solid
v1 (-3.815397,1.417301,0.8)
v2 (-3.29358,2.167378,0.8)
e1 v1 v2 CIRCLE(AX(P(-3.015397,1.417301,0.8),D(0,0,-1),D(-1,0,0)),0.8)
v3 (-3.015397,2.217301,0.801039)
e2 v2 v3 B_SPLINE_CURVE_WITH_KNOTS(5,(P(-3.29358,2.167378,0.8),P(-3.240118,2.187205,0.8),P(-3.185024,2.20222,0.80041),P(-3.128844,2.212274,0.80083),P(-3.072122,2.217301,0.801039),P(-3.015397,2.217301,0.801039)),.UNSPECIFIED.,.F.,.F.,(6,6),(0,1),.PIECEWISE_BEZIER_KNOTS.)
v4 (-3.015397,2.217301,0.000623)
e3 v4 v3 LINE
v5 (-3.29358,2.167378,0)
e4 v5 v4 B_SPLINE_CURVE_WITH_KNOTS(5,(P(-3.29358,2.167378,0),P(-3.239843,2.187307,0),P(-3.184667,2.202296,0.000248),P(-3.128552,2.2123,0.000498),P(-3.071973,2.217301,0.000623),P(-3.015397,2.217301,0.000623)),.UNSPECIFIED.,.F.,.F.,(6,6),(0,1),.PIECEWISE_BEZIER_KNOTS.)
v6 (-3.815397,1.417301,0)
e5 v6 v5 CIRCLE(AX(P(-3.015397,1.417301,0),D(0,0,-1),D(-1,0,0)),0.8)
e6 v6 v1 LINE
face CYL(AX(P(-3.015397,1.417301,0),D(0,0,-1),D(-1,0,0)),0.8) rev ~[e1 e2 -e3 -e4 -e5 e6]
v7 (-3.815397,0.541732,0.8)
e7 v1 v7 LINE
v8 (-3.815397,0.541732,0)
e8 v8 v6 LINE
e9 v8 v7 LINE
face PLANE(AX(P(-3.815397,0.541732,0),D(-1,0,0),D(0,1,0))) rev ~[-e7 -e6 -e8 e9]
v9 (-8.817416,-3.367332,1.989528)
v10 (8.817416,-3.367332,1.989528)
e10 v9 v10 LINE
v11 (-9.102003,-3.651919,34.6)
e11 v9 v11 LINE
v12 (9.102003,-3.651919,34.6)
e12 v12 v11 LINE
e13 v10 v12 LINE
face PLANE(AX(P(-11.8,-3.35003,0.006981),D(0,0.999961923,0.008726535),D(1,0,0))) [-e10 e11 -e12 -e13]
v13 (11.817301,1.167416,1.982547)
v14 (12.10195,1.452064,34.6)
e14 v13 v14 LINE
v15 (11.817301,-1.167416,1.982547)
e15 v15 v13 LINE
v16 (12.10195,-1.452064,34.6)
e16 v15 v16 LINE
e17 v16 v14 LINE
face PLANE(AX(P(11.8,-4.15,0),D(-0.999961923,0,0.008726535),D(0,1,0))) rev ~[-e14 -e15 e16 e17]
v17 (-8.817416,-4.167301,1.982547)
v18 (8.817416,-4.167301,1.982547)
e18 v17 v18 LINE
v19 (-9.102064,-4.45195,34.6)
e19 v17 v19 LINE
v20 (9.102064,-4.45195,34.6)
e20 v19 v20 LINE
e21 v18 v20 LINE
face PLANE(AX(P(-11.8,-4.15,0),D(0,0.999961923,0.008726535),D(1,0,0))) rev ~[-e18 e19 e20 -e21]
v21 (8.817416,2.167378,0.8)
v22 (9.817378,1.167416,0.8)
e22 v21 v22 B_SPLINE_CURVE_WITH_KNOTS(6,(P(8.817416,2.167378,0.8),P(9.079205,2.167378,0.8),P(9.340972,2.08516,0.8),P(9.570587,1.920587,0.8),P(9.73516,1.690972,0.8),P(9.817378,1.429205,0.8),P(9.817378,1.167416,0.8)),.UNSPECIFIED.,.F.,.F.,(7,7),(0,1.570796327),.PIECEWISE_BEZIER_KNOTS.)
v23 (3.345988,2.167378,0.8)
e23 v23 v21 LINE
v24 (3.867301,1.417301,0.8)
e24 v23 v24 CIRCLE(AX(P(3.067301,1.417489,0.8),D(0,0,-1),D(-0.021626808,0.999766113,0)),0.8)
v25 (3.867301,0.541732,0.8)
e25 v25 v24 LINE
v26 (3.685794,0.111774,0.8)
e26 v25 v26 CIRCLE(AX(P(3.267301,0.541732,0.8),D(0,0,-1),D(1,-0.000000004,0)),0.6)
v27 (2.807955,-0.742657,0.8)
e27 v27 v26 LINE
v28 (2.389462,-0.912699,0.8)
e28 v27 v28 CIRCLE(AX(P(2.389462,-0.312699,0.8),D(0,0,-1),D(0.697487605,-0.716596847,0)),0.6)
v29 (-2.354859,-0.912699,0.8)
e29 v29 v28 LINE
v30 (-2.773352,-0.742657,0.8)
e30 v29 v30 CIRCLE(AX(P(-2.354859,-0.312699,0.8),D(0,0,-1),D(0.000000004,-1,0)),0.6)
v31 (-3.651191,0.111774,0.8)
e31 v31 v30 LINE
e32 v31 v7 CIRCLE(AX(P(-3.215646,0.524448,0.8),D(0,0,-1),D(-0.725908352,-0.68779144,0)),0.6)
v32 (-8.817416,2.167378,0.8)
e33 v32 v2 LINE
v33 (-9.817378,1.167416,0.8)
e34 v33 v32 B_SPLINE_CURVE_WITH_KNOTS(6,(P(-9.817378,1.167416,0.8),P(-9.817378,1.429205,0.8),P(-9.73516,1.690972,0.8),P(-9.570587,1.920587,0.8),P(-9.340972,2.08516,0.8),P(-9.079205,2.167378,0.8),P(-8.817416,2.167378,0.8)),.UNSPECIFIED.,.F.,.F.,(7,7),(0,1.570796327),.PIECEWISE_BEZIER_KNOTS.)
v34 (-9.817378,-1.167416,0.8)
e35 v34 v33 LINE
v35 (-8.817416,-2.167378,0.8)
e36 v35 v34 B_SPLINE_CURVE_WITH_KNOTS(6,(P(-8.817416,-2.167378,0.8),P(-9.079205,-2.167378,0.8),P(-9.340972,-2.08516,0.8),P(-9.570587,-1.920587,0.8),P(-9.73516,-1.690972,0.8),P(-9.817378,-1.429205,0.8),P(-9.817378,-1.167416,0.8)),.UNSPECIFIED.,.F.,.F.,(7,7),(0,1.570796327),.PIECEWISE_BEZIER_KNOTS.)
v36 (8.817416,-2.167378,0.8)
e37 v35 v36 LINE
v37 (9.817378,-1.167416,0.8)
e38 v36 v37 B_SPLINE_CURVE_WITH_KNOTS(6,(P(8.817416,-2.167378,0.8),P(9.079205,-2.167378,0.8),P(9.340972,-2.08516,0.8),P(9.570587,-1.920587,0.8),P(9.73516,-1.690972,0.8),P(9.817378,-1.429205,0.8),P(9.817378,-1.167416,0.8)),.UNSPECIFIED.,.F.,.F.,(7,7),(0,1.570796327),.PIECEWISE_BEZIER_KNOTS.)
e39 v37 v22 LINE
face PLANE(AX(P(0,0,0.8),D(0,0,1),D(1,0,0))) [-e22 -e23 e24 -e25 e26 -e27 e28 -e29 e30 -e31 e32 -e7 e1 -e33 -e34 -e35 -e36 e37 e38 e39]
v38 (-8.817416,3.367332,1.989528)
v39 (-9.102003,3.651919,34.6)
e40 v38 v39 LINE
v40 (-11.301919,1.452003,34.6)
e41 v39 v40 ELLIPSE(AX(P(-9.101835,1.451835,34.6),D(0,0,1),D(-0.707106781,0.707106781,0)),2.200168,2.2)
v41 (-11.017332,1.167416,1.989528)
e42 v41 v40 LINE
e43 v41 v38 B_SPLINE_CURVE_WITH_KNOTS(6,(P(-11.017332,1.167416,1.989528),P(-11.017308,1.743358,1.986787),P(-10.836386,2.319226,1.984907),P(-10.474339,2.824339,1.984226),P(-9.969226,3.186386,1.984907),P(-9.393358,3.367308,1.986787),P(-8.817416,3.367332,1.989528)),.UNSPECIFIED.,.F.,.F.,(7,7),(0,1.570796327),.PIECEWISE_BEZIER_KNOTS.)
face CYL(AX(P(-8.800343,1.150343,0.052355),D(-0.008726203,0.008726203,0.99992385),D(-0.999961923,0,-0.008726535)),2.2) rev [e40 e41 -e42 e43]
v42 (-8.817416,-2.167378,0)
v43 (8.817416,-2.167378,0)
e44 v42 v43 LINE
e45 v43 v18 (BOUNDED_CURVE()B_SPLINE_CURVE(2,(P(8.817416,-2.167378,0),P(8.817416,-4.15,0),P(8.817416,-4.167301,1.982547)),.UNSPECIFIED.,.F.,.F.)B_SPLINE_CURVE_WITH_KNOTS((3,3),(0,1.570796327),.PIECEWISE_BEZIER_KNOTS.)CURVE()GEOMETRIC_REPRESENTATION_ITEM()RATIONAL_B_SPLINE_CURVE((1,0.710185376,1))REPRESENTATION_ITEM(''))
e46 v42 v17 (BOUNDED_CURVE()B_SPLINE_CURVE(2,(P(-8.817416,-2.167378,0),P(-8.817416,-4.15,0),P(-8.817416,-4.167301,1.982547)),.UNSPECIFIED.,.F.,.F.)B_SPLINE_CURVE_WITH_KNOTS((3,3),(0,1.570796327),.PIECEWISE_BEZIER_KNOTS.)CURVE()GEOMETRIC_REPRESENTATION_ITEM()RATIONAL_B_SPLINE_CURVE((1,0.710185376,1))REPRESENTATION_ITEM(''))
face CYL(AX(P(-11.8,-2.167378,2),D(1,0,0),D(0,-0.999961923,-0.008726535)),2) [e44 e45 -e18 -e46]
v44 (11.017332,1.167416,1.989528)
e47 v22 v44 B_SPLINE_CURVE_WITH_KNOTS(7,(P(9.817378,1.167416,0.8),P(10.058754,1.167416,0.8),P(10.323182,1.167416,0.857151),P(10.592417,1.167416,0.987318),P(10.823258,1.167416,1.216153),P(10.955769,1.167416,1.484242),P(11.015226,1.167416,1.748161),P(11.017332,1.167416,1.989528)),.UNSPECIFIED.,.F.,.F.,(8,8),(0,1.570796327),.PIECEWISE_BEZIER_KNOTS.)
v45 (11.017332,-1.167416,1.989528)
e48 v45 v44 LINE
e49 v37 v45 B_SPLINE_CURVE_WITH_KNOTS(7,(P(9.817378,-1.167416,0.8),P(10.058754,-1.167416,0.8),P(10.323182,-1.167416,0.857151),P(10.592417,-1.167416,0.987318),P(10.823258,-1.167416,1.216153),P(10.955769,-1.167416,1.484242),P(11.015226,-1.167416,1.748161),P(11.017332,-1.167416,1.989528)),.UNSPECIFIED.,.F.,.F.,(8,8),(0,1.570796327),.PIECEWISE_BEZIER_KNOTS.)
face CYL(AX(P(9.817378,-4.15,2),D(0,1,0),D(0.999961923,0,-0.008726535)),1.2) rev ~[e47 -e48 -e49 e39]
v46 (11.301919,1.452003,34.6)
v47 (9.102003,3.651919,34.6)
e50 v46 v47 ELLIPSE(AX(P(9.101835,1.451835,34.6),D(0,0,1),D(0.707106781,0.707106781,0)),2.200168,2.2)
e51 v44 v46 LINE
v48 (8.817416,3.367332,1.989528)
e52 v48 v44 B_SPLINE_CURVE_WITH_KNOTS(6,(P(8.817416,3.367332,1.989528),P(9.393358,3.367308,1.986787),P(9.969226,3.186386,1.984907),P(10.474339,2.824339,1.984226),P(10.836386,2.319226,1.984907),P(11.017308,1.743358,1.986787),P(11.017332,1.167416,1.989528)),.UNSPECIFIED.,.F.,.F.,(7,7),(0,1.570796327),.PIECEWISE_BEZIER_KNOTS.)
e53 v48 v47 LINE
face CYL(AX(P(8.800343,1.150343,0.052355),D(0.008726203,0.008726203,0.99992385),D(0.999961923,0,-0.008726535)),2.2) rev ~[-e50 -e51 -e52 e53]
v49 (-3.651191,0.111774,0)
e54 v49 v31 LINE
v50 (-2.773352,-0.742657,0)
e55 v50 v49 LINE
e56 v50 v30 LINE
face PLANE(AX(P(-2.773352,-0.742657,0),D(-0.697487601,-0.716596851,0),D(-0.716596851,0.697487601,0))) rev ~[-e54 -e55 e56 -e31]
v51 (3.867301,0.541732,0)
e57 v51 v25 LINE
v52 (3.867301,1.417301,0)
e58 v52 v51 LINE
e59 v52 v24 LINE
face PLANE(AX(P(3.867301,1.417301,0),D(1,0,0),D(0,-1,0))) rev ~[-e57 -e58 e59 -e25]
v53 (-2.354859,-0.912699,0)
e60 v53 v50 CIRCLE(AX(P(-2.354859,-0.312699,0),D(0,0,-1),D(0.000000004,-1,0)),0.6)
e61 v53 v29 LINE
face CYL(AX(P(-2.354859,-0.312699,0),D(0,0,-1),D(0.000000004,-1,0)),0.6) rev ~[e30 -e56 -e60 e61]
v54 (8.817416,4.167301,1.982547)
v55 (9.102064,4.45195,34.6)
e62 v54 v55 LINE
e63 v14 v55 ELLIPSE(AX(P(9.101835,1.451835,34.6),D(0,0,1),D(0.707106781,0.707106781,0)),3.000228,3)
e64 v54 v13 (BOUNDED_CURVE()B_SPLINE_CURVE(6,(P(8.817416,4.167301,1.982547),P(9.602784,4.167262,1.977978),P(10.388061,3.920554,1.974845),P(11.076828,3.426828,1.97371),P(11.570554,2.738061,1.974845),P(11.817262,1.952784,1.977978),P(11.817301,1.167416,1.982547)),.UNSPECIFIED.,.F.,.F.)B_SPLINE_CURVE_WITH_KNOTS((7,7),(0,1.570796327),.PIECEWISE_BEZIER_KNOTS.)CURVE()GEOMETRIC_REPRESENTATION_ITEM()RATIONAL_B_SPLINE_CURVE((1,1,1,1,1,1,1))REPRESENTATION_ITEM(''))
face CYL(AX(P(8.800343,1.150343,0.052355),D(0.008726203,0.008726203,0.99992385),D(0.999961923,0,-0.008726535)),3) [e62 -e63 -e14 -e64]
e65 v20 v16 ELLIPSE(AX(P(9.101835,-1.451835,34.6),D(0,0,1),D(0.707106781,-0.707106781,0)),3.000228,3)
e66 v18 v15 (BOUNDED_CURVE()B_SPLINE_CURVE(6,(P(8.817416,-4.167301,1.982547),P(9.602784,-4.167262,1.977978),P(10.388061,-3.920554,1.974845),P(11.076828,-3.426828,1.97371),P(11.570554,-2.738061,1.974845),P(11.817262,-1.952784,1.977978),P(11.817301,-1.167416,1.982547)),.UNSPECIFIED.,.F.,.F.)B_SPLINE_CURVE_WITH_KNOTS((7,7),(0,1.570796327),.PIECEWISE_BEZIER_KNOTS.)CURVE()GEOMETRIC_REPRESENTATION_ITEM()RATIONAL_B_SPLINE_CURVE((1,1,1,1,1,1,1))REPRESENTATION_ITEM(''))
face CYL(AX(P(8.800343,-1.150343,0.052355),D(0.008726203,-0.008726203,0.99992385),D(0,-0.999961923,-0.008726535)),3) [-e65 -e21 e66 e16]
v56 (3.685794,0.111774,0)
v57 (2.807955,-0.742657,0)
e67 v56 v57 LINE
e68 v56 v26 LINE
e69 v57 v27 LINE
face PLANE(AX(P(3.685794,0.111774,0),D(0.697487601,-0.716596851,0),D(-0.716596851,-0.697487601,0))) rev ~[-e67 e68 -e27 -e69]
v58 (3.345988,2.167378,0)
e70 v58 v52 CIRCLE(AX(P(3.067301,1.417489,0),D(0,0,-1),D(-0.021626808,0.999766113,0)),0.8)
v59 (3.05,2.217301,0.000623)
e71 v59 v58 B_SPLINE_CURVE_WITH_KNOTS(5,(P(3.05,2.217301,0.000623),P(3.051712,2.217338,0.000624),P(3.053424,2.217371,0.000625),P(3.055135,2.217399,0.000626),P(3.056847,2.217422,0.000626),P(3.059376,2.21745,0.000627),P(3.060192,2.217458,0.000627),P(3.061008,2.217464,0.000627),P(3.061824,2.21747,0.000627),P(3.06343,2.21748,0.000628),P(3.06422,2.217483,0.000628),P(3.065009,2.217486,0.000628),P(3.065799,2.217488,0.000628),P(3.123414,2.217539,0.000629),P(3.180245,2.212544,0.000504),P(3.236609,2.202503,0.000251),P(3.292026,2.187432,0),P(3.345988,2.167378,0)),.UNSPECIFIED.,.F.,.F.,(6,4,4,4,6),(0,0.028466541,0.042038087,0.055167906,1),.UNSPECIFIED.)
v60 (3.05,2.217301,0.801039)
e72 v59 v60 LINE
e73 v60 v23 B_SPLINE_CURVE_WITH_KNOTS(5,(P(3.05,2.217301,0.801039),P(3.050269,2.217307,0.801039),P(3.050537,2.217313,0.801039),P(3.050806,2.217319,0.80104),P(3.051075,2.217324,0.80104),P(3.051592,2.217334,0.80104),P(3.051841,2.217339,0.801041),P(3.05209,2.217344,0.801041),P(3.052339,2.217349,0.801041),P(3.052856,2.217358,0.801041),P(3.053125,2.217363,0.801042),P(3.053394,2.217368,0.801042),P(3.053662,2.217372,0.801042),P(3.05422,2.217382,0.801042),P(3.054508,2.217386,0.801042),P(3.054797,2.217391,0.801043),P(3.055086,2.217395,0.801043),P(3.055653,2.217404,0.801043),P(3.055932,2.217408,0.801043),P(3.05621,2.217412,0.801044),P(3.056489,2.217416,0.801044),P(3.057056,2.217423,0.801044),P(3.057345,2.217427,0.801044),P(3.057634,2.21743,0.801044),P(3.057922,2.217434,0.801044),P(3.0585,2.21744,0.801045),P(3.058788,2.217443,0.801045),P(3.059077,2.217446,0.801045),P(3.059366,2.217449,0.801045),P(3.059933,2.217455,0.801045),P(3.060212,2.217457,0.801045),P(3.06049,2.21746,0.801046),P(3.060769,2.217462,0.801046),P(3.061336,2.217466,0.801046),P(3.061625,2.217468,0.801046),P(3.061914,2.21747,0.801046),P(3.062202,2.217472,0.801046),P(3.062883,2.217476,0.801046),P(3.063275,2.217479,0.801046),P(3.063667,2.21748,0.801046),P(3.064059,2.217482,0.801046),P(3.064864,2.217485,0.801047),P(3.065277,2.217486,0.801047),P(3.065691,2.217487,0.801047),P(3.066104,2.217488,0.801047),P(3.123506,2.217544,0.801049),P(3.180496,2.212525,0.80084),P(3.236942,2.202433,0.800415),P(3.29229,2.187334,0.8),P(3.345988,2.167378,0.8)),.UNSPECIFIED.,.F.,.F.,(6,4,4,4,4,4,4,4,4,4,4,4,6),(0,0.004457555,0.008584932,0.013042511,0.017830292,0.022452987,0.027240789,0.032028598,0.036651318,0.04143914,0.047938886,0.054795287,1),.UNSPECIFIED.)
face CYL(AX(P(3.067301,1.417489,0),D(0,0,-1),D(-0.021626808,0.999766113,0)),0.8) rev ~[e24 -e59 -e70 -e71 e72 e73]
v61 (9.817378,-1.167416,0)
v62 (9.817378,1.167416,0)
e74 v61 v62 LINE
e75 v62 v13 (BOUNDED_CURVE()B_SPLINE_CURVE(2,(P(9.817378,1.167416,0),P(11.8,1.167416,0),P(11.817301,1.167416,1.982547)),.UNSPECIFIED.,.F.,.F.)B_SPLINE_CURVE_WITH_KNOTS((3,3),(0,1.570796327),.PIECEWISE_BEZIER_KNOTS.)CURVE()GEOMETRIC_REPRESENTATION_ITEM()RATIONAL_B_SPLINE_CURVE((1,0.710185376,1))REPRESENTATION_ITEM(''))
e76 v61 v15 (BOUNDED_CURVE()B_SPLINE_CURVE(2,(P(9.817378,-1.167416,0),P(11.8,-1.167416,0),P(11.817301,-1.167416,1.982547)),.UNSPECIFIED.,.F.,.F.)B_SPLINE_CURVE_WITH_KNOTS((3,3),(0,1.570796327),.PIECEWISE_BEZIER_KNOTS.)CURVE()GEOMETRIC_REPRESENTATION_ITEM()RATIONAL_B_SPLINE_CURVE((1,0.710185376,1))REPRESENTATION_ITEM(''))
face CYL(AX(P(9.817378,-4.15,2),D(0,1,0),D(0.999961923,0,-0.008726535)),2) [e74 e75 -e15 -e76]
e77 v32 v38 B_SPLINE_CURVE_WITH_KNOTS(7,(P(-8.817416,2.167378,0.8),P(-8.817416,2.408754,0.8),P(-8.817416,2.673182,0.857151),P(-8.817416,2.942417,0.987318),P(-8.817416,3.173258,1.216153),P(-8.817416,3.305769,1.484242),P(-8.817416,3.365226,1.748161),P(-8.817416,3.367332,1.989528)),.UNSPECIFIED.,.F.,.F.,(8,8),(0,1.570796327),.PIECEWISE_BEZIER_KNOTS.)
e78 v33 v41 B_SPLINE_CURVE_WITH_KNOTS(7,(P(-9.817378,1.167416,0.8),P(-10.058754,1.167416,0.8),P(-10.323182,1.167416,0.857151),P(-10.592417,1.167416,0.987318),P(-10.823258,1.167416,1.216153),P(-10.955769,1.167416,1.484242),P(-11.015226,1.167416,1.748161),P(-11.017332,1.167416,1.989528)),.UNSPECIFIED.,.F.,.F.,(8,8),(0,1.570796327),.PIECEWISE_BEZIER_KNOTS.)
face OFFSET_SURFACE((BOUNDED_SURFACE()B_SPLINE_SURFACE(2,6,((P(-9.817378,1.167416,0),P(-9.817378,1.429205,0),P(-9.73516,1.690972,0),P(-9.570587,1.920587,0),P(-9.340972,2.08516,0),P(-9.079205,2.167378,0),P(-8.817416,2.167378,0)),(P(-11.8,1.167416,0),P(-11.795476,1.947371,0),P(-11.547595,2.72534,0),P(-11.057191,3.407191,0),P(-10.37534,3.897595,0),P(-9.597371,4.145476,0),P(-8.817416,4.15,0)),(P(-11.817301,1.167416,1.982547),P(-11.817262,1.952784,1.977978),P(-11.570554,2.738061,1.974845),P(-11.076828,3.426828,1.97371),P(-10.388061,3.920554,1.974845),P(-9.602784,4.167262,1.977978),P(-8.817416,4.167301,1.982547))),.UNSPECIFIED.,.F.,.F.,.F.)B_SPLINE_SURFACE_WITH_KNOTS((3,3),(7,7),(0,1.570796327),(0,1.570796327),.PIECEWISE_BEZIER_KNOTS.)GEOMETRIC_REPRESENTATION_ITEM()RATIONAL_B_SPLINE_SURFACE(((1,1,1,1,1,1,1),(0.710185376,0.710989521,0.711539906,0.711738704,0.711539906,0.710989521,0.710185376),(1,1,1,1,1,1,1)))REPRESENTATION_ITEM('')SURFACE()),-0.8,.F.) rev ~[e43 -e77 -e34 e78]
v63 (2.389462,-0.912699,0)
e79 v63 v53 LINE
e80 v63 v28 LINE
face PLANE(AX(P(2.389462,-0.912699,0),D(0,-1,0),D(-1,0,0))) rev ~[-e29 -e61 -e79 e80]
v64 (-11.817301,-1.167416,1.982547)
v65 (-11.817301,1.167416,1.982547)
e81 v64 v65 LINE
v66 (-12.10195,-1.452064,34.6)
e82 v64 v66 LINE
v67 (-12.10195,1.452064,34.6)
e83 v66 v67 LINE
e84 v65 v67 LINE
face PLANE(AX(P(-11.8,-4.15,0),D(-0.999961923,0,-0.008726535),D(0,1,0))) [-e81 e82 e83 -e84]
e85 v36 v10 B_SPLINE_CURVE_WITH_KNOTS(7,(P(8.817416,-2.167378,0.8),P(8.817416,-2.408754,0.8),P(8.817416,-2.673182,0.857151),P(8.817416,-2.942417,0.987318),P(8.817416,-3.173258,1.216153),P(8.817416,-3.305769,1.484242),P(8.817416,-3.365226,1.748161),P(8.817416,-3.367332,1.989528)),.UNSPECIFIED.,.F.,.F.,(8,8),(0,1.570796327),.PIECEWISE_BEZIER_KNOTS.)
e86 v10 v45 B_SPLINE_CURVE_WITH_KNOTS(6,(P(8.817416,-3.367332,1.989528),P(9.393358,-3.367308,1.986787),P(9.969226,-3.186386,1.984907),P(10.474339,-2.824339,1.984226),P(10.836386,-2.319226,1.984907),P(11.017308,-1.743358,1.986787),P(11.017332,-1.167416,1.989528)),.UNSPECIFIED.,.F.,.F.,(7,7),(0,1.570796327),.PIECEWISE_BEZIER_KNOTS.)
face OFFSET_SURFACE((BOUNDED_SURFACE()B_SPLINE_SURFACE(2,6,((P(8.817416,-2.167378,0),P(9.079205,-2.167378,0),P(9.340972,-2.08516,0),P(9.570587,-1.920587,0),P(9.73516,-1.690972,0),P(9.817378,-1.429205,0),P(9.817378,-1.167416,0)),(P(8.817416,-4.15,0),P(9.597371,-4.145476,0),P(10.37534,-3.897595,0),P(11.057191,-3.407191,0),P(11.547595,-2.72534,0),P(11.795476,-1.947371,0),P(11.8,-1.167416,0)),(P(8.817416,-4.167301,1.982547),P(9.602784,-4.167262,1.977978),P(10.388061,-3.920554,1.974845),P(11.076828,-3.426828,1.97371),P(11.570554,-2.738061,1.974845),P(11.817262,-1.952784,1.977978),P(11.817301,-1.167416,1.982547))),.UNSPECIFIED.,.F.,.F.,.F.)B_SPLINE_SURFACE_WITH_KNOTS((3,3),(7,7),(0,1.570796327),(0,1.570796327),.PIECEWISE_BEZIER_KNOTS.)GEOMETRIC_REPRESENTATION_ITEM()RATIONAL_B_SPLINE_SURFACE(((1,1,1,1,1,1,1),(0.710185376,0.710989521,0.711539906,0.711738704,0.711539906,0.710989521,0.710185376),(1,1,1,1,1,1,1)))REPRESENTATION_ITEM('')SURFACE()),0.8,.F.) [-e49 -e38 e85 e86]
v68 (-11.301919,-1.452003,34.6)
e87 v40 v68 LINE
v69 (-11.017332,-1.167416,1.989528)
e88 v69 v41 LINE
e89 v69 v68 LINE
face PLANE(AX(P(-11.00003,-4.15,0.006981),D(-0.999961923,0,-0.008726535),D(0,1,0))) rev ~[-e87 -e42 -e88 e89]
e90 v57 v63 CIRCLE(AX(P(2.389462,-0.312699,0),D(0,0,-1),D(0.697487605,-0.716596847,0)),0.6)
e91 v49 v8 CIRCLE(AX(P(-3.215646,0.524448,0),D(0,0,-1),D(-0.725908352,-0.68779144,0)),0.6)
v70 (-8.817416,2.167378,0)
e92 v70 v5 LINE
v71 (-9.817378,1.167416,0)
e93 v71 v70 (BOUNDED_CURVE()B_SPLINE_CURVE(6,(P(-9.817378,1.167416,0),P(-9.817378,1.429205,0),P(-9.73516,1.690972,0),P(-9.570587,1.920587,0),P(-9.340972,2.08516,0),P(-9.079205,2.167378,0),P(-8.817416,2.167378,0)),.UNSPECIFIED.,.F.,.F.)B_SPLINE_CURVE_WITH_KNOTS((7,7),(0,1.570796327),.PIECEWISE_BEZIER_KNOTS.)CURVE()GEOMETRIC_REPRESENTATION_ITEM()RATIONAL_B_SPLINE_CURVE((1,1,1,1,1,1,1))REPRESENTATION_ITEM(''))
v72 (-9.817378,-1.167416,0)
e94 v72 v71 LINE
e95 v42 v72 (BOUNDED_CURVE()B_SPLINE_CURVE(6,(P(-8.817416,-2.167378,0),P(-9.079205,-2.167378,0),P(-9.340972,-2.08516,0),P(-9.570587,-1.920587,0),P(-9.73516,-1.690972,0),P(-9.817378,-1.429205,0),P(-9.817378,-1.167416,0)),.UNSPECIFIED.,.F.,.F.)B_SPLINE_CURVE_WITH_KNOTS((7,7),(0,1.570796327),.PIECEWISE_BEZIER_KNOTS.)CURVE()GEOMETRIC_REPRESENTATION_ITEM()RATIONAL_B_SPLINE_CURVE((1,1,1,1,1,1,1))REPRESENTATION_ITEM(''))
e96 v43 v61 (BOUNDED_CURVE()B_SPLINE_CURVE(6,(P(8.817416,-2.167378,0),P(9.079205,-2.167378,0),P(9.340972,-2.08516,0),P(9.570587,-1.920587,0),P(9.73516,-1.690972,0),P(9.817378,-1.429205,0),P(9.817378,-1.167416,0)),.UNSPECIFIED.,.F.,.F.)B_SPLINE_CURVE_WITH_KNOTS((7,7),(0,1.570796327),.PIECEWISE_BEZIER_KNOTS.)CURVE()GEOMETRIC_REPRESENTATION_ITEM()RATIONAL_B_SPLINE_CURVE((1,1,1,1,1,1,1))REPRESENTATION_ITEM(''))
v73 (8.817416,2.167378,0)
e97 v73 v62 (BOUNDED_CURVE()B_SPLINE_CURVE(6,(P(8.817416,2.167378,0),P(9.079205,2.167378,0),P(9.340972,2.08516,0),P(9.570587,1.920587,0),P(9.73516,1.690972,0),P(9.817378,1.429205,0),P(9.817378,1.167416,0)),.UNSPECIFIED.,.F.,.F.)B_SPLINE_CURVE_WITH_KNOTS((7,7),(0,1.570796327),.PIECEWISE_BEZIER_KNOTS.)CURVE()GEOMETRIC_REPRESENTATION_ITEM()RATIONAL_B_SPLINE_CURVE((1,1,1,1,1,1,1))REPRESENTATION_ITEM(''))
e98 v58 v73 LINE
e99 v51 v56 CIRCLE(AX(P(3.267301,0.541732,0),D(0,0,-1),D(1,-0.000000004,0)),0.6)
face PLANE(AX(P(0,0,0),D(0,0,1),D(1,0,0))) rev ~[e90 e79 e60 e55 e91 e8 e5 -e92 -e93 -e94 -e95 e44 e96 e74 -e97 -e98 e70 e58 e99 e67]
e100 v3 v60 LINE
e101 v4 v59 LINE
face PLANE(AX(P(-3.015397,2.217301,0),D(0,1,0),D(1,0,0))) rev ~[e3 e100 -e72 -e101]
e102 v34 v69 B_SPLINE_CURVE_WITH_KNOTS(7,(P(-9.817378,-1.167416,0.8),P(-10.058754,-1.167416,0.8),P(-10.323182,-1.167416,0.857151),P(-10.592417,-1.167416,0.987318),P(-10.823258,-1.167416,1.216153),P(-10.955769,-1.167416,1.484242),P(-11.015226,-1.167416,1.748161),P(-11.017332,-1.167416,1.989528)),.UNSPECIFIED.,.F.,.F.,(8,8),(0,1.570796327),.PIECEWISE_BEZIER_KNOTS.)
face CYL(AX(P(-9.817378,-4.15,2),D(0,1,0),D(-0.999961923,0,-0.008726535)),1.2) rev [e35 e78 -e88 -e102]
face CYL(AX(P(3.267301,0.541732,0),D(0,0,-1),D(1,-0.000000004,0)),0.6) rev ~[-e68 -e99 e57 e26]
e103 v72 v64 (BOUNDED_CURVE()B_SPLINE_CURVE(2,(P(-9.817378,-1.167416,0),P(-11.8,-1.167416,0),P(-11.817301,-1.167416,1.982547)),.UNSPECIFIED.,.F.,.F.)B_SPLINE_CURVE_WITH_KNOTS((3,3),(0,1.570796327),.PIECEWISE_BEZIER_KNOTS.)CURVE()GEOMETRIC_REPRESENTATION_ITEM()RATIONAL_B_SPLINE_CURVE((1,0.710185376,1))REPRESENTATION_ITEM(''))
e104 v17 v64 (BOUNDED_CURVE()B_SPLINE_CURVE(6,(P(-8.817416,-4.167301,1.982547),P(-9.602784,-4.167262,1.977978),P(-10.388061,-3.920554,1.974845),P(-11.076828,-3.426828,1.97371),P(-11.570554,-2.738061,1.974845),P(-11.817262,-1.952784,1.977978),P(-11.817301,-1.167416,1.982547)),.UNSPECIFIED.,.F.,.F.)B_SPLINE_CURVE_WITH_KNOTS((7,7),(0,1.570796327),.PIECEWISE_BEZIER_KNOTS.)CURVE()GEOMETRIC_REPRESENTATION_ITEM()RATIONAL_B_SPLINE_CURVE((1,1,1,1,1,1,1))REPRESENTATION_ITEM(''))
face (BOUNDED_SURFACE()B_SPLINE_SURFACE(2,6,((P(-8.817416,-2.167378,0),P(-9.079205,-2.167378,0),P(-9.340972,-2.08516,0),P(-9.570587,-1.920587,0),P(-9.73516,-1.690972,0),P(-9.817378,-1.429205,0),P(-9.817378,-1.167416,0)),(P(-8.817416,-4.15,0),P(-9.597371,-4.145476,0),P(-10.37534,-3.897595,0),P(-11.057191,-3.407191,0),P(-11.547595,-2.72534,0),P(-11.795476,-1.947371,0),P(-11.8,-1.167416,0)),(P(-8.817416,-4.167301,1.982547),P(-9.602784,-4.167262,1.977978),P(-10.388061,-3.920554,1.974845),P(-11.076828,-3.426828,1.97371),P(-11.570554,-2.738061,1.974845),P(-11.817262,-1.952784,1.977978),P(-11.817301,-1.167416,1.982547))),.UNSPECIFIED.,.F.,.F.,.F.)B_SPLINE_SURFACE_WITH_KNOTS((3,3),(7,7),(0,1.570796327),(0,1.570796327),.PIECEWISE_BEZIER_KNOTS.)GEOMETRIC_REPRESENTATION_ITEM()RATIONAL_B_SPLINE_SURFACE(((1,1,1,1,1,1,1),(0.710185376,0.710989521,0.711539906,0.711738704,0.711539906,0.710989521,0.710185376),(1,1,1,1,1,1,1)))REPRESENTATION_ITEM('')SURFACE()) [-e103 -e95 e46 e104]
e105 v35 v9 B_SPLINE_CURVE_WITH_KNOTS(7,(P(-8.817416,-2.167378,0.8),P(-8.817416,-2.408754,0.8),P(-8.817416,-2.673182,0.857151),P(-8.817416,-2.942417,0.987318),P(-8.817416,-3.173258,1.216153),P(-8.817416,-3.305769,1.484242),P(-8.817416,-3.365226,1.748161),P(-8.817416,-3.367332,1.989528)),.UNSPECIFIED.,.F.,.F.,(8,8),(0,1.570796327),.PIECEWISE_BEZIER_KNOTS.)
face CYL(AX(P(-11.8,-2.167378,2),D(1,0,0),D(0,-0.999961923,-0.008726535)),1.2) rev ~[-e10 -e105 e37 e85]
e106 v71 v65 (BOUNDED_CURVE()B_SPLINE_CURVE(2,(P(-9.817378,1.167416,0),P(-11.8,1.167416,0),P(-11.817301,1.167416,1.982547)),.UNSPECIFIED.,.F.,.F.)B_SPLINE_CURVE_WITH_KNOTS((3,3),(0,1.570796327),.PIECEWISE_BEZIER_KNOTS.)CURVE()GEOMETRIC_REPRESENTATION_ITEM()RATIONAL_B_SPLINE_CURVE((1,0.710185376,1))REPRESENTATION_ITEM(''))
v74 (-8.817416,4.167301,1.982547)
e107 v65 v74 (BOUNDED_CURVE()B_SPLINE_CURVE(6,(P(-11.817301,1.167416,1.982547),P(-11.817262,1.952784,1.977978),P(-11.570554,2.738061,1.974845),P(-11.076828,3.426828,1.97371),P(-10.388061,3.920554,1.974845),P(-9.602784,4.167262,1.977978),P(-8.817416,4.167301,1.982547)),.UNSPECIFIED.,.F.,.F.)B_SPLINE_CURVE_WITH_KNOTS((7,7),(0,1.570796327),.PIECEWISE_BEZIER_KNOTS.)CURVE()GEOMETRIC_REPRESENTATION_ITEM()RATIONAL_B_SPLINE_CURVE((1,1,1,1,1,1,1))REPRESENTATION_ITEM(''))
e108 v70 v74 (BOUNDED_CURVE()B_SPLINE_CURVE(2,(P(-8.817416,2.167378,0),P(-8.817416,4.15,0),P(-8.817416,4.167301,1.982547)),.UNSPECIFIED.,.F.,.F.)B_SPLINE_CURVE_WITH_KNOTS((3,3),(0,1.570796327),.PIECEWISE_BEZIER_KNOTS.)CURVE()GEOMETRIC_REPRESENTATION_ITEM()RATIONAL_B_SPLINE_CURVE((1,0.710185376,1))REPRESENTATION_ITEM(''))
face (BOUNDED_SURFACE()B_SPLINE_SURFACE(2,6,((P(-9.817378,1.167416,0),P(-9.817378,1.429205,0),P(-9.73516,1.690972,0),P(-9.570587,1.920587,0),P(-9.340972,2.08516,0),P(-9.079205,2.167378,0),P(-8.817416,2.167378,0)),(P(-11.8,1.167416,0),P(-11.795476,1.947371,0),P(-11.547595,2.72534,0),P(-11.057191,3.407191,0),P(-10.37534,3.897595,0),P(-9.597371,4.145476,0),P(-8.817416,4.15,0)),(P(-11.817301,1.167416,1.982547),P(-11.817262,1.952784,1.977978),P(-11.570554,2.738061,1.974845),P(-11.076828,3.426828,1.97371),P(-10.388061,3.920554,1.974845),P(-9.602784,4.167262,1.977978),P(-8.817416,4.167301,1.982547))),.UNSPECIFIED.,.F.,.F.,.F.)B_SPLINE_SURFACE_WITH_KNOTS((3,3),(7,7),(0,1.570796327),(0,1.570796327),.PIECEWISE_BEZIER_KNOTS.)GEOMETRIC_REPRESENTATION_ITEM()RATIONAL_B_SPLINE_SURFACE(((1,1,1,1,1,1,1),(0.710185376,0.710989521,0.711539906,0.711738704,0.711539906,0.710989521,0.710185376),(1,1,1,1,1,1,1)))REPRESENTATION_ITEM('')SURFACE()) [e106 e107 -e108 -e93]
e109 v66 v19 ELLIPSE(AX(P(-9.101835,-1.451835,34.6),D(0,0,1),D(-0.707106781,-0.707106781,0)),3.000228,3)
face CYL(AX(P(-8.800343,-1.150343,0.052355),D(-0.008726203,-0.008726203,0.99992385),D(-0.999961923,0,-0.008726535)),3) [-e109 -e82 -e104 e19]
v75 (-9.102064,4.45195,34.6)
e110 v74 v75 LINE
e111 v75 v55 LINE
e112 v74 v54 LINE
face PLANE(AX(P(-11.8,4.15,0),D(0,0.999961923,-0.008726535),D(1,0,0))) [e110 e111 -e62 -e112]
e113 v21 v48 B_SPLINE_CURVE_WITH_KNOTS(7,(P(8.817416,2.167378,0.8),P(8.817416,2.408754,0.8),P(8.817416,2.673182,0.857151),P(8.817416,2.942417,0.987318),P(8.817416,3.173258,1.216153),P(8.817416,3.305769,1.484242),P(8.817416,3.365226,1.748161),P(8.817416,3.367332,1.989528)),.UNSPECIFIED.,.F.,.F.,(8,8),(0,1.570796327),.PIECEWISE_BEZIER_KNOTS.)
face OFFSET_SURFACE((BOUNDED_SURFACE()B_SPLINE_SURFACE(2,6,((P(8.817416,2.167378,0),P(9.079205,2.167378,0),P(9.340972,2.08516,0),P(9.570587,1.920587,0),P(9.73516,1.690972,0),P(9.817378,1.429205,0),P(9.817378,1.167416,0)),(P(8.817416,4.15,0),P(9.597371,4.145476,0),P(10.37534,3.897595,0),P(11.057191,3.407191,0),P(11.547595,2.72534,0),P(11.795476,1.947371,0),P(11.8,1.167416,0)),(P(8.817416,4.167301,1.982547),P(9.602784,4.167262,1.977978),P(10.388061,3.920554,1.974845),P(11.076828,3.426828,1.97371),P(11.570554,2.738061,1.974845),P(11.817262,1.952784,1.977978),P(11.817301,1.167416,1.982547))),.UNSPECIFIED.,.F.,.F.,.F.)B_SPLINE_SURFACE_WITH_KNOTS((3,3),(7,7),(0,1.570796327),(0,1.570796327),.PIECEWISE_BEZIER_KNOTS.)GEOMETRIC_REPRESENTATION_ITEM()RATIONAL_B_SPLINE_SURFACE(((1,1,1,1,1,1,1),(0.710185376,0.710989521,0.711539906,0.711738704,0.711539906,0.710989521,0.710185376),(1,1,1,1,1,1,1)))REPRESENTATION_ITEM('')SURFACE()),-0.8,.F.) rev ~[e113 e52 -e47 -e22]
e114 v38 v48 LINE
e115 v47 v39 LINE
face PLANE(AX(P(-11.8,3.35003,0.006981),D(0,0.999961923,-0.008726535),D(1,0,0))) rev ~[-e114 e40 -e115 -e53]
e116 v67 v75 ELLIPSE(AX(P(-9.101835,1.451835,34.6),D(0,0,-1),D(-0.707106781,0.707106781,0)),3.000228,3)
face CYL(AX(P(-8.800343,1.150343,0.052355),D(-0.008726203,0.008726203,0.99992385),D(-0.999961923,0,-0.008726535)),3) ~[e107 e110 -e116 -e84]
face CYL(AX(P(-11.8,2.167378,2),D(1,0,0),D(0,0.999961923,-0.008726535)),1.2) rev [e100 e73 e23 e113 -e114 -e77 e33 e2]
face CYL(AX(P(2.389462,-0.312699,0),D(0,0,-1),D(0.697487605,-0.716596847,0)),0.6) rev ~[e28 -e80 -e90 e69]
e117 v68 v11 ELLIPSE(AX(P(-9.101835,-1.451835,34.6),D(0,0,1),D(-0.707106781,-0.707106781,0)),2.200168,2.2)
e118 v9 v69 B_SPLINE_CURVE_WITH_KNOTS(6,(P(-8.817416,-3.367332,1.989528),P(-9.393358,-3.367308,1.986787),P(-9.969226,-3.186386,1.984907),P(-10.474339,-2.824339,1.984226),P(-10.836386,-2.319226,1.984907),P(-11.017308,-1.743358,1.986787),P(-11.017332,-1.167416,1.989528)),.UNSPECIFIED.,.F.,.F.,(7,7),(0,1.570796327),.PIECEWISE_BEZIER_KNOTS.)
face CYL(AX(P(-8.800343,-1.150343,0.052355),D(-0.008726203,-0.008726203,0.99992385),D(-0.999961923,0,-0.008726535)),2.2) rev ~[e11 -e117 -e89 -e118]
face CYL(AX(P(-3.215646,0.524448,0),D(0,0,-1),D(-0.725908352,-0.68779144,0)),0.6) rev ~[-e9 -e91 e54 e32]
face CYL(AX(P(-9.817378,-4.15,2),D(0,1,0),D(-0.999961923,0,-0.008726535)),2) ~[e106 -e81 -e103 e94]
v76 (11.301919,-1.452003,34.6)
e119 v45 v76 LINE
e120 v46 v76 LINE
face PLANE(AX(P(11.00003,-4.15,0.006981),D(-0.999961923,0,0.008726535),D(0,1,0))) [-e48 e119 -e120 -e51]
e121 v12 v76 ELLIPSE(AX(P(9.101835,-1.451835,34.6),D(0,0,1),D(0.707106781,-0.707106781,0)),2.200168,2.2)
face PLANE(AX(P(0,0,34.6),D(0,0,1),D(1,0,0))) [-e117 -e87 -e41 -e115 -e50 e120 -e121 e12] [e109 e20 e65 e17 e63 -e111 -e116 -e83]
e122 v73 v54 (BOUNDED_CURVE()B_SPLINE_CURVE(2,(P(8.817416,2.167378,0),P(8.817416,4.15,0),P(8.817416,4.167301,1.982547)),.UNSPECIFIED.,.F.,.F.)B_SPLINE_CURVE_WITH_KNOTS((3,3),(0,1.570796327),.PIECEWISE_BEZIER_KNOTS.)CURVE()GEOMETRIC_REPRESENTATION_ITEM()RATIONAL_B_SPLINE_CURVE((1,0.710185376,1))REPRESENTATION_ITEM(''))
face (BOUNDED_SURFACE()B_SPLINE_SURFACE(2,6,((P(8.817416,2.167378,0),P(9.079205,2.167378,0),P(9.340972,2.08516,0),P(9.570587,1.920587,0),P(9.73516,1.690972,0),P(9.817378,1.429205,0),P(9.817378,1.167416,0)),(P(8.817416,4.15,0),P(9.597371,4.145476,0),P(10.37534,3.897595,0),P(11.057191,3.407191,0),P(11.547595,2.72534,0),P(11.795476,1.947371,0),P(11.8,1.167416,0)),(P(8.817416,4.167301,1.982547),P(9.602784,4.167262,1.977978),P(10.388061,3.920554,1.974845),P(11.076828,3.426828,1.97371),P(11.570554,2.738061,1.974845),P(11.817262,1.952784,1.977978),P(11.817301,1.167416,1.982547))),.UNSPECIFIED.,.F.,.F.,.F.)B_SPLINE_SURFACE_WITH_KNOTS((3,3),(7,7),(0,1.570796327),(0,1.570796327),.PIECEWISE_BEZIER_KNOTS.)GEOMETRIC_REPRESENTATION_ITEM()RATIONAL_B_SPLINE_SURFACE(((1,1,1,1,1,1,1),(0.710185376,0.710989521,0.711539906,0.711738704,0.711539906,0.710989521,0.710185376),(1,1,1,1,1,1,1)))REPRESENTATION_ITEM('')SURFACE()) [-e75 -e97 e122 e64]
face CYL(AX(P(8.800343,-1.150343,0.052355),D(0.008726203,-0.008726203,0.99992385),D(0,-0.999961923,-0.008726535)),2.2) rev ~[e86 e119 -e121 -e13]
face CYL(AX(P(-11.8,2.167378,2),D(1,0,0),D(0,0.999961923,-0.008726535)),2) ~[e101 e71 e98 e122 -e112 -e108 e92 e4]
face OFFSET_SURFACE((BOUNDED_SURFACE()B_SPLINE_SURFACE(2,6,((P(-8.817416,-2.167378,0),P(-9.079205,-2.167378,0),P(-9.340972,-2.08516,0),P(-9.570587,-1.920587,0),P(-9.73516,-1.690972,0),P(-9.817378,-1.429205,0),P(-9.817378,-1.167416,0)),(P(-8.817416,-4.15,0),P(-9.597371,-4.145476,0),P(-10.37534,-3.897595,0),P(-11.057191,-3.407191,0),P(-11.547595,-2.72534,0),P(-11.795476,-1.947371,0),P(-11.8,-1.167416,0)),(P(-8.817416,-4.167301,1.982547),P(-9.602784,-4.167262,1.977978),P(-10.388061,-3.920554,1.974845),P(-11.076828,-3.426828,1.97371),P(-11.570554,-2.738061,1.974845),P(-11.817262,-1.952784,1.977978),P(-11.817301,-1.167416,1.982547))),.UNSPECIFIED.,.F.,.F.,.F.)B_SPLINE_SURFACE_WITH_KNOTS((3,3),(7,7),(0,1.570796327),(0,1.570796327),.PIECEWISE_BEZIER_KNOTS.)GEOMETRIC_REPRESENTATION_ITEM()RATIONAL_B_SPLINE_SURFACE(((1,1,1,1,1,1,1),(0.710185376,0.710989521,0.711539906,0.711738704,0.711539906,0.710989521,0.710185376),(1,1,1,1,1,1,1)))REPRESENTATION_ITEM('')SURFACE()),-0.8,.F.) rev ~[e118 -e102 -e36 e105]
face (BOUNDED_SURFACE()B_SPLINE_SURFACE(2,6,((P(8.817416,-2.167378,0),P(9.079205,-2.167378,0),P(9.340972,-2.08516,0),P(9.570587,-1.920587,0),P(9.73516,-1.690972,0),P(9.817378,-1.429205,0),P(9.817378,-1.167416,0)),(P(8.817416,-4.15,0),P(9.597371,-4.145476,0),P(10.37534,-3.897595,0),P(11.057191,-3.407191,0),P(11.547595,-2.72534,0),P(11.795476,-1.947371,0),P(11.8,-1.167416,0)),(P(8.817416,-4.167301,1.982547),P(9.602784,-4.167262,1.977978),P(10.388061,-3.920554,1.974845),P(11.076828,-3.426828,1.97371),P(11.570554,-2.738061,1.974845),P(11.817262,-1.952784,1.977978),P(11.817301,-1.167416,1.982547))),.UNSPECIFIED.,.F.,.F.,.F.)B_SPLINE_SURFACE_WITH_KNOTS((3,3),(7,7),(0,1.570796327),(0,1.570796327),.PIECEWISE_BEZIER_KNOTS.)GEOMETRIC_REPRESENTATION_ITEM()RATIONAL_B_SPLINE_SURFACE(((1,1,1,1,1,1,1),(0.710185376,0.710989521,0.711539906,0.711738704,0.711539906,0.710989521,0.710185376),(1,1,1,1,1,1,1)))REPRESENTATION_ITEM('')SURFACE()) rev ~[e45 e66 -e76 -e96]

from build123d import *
from OCP.BRepFilletAPI import BRepFilletAPI_MakeFillet

# Parameters (mm, degrees)
SKETCH2_W           = 23.6
SKETCH2_H           = 8.3
BOSS_EXTRUDE1_DEPTH = 34.6
BOSS_EXTRUDE1_DRAFT = -0.5
FILLET1_R1          = 2
FILLET1_R2          = 3
SHELL1_T            = -0.8
CUT_EXTRUDE1_DEPTH  = 33.85


with BuildPart() as part:
    # Sketch2 → Boss-Extrude1 (with draft: the straight prism first)
    with BuildSketch(Plane.XY):
        Rectangle(SKETCH2_W, SKETCH2_H)
    extrude(amount=BOSS_EXTRUDE1_DEPTH)
    # Boss-Extrude1: the draft: its side faces are tilted about the plane it starts from
    boss_extrude1_sides = [part.faces().sort_by_distance(p)[0] for p in [
        (0, -4.15, 17.3),
        (11.8, 0, 17.3),
        (0, 4.15, 17.3),
        (-11.8, 0, 17.3),
    ]]
    draft(boss_extrude1_sides, Plane.XY, BOSS_EXTRUDE1_DRAFT)

    # Fillet1: one fillet with a radius per group of edges: ONE call of the kernel's fillet builder (fillet() takes one radius for all edges)
    fillet1_edges_1 = [part.edges().sort_by_distance(p)[0] for p in [
        (0, -4.15, 0),
        (-11.8, 0, 0),
        (0, 4.15, 0),
        (11.8, 0, 0),
    ]]
    fillet1_edges_2 = [part.edges().sort_by_distance(p)[0] for p in [
        (11.950974813, -4.300974813, 17.3),
        (-11.950974813, -4.300974813, 17.3),
        (-11.950974813, 4.300974813, 17.3),
        (11.950974813, 4.300974813, 17.3),
    ]]
    fillet1 = BRepFilletAPI_MakeFillet(part.part.solid().wrapped)
    for e in fillet1_edges_1:
        fillet1.Add(FILLET1_R1, e.wrapped)
    for e in fillet1_edges_2:
        fillet1.Add(FILLET1_R2, e.wrapped)
    add(Compound.cast(fillet1.Shape()), mode=Mode.REPLACE)

    # Shell1
    shell1_openings = [part.faces().sort_by_distance(p)[0] for p in [
        (0, 0, 34.6),
    ]]
    offset(amount=SHELL1_T, openings=shell1_openings, kind=Kind.INTERSECTION)

    # Sketch3 → Cut-Extrude1 (cut)
    with BuildSketch(Plane(origin=(0, 0, 0), x_dir=(-1, 0, 0), z_dir=(0, 0, -1))):
        with BuildLine():
            Line((3.01539715, 2.217301425), (-3.05, 2.217301425))
            ThreePointArc((-3.05, 2.217301425), (-3.626903312, 1.989192787), (-3.867301425, 1.417301425))
            Line((-3.867301425, 1.417301425), (-3.867301425, 0.541731715))
            ThreePointArc((-3.867301425, 0.541731715), (-3.820065179, 0.308381695), (-3.685793986, 0.111773604))
            Line((-3.685793986, 0.111773604), (-2.807954647, -0.742656685))
            ThreePointArc((-2.807954647, -0.742656685), (-2.615321704, -0.868564956), (-2.389462086, -0.912698575))
            Line((-2.389462086, -0.912698575), (2.354859236, -0.912698575))
            ThreePointArc((2.354859236, -0.912698575), (2.580718854, -0.868564956), (2.773351797, -0.742656685))
            Line((2.773351797, -0.742656685), (3.651191136, 0.111773604))
            ThreePointArc((3.651191136, 0.111773604), (3.776159697, 0.310381805), (3.81539715, 0.541731715))
            Line((3.81539715, 0.541731715), (3.81539715, 1.417301425))
            ThreePointArc((3.81539715, 1.417301425), (3.581082575, 1.98298685), (3.01539715, 2.217301425))
        make_face()
    extrude(amount=-CUT_EXTRUDE1_DEPTH, mode=Mode.SUBTRACT)


solid = part.part
